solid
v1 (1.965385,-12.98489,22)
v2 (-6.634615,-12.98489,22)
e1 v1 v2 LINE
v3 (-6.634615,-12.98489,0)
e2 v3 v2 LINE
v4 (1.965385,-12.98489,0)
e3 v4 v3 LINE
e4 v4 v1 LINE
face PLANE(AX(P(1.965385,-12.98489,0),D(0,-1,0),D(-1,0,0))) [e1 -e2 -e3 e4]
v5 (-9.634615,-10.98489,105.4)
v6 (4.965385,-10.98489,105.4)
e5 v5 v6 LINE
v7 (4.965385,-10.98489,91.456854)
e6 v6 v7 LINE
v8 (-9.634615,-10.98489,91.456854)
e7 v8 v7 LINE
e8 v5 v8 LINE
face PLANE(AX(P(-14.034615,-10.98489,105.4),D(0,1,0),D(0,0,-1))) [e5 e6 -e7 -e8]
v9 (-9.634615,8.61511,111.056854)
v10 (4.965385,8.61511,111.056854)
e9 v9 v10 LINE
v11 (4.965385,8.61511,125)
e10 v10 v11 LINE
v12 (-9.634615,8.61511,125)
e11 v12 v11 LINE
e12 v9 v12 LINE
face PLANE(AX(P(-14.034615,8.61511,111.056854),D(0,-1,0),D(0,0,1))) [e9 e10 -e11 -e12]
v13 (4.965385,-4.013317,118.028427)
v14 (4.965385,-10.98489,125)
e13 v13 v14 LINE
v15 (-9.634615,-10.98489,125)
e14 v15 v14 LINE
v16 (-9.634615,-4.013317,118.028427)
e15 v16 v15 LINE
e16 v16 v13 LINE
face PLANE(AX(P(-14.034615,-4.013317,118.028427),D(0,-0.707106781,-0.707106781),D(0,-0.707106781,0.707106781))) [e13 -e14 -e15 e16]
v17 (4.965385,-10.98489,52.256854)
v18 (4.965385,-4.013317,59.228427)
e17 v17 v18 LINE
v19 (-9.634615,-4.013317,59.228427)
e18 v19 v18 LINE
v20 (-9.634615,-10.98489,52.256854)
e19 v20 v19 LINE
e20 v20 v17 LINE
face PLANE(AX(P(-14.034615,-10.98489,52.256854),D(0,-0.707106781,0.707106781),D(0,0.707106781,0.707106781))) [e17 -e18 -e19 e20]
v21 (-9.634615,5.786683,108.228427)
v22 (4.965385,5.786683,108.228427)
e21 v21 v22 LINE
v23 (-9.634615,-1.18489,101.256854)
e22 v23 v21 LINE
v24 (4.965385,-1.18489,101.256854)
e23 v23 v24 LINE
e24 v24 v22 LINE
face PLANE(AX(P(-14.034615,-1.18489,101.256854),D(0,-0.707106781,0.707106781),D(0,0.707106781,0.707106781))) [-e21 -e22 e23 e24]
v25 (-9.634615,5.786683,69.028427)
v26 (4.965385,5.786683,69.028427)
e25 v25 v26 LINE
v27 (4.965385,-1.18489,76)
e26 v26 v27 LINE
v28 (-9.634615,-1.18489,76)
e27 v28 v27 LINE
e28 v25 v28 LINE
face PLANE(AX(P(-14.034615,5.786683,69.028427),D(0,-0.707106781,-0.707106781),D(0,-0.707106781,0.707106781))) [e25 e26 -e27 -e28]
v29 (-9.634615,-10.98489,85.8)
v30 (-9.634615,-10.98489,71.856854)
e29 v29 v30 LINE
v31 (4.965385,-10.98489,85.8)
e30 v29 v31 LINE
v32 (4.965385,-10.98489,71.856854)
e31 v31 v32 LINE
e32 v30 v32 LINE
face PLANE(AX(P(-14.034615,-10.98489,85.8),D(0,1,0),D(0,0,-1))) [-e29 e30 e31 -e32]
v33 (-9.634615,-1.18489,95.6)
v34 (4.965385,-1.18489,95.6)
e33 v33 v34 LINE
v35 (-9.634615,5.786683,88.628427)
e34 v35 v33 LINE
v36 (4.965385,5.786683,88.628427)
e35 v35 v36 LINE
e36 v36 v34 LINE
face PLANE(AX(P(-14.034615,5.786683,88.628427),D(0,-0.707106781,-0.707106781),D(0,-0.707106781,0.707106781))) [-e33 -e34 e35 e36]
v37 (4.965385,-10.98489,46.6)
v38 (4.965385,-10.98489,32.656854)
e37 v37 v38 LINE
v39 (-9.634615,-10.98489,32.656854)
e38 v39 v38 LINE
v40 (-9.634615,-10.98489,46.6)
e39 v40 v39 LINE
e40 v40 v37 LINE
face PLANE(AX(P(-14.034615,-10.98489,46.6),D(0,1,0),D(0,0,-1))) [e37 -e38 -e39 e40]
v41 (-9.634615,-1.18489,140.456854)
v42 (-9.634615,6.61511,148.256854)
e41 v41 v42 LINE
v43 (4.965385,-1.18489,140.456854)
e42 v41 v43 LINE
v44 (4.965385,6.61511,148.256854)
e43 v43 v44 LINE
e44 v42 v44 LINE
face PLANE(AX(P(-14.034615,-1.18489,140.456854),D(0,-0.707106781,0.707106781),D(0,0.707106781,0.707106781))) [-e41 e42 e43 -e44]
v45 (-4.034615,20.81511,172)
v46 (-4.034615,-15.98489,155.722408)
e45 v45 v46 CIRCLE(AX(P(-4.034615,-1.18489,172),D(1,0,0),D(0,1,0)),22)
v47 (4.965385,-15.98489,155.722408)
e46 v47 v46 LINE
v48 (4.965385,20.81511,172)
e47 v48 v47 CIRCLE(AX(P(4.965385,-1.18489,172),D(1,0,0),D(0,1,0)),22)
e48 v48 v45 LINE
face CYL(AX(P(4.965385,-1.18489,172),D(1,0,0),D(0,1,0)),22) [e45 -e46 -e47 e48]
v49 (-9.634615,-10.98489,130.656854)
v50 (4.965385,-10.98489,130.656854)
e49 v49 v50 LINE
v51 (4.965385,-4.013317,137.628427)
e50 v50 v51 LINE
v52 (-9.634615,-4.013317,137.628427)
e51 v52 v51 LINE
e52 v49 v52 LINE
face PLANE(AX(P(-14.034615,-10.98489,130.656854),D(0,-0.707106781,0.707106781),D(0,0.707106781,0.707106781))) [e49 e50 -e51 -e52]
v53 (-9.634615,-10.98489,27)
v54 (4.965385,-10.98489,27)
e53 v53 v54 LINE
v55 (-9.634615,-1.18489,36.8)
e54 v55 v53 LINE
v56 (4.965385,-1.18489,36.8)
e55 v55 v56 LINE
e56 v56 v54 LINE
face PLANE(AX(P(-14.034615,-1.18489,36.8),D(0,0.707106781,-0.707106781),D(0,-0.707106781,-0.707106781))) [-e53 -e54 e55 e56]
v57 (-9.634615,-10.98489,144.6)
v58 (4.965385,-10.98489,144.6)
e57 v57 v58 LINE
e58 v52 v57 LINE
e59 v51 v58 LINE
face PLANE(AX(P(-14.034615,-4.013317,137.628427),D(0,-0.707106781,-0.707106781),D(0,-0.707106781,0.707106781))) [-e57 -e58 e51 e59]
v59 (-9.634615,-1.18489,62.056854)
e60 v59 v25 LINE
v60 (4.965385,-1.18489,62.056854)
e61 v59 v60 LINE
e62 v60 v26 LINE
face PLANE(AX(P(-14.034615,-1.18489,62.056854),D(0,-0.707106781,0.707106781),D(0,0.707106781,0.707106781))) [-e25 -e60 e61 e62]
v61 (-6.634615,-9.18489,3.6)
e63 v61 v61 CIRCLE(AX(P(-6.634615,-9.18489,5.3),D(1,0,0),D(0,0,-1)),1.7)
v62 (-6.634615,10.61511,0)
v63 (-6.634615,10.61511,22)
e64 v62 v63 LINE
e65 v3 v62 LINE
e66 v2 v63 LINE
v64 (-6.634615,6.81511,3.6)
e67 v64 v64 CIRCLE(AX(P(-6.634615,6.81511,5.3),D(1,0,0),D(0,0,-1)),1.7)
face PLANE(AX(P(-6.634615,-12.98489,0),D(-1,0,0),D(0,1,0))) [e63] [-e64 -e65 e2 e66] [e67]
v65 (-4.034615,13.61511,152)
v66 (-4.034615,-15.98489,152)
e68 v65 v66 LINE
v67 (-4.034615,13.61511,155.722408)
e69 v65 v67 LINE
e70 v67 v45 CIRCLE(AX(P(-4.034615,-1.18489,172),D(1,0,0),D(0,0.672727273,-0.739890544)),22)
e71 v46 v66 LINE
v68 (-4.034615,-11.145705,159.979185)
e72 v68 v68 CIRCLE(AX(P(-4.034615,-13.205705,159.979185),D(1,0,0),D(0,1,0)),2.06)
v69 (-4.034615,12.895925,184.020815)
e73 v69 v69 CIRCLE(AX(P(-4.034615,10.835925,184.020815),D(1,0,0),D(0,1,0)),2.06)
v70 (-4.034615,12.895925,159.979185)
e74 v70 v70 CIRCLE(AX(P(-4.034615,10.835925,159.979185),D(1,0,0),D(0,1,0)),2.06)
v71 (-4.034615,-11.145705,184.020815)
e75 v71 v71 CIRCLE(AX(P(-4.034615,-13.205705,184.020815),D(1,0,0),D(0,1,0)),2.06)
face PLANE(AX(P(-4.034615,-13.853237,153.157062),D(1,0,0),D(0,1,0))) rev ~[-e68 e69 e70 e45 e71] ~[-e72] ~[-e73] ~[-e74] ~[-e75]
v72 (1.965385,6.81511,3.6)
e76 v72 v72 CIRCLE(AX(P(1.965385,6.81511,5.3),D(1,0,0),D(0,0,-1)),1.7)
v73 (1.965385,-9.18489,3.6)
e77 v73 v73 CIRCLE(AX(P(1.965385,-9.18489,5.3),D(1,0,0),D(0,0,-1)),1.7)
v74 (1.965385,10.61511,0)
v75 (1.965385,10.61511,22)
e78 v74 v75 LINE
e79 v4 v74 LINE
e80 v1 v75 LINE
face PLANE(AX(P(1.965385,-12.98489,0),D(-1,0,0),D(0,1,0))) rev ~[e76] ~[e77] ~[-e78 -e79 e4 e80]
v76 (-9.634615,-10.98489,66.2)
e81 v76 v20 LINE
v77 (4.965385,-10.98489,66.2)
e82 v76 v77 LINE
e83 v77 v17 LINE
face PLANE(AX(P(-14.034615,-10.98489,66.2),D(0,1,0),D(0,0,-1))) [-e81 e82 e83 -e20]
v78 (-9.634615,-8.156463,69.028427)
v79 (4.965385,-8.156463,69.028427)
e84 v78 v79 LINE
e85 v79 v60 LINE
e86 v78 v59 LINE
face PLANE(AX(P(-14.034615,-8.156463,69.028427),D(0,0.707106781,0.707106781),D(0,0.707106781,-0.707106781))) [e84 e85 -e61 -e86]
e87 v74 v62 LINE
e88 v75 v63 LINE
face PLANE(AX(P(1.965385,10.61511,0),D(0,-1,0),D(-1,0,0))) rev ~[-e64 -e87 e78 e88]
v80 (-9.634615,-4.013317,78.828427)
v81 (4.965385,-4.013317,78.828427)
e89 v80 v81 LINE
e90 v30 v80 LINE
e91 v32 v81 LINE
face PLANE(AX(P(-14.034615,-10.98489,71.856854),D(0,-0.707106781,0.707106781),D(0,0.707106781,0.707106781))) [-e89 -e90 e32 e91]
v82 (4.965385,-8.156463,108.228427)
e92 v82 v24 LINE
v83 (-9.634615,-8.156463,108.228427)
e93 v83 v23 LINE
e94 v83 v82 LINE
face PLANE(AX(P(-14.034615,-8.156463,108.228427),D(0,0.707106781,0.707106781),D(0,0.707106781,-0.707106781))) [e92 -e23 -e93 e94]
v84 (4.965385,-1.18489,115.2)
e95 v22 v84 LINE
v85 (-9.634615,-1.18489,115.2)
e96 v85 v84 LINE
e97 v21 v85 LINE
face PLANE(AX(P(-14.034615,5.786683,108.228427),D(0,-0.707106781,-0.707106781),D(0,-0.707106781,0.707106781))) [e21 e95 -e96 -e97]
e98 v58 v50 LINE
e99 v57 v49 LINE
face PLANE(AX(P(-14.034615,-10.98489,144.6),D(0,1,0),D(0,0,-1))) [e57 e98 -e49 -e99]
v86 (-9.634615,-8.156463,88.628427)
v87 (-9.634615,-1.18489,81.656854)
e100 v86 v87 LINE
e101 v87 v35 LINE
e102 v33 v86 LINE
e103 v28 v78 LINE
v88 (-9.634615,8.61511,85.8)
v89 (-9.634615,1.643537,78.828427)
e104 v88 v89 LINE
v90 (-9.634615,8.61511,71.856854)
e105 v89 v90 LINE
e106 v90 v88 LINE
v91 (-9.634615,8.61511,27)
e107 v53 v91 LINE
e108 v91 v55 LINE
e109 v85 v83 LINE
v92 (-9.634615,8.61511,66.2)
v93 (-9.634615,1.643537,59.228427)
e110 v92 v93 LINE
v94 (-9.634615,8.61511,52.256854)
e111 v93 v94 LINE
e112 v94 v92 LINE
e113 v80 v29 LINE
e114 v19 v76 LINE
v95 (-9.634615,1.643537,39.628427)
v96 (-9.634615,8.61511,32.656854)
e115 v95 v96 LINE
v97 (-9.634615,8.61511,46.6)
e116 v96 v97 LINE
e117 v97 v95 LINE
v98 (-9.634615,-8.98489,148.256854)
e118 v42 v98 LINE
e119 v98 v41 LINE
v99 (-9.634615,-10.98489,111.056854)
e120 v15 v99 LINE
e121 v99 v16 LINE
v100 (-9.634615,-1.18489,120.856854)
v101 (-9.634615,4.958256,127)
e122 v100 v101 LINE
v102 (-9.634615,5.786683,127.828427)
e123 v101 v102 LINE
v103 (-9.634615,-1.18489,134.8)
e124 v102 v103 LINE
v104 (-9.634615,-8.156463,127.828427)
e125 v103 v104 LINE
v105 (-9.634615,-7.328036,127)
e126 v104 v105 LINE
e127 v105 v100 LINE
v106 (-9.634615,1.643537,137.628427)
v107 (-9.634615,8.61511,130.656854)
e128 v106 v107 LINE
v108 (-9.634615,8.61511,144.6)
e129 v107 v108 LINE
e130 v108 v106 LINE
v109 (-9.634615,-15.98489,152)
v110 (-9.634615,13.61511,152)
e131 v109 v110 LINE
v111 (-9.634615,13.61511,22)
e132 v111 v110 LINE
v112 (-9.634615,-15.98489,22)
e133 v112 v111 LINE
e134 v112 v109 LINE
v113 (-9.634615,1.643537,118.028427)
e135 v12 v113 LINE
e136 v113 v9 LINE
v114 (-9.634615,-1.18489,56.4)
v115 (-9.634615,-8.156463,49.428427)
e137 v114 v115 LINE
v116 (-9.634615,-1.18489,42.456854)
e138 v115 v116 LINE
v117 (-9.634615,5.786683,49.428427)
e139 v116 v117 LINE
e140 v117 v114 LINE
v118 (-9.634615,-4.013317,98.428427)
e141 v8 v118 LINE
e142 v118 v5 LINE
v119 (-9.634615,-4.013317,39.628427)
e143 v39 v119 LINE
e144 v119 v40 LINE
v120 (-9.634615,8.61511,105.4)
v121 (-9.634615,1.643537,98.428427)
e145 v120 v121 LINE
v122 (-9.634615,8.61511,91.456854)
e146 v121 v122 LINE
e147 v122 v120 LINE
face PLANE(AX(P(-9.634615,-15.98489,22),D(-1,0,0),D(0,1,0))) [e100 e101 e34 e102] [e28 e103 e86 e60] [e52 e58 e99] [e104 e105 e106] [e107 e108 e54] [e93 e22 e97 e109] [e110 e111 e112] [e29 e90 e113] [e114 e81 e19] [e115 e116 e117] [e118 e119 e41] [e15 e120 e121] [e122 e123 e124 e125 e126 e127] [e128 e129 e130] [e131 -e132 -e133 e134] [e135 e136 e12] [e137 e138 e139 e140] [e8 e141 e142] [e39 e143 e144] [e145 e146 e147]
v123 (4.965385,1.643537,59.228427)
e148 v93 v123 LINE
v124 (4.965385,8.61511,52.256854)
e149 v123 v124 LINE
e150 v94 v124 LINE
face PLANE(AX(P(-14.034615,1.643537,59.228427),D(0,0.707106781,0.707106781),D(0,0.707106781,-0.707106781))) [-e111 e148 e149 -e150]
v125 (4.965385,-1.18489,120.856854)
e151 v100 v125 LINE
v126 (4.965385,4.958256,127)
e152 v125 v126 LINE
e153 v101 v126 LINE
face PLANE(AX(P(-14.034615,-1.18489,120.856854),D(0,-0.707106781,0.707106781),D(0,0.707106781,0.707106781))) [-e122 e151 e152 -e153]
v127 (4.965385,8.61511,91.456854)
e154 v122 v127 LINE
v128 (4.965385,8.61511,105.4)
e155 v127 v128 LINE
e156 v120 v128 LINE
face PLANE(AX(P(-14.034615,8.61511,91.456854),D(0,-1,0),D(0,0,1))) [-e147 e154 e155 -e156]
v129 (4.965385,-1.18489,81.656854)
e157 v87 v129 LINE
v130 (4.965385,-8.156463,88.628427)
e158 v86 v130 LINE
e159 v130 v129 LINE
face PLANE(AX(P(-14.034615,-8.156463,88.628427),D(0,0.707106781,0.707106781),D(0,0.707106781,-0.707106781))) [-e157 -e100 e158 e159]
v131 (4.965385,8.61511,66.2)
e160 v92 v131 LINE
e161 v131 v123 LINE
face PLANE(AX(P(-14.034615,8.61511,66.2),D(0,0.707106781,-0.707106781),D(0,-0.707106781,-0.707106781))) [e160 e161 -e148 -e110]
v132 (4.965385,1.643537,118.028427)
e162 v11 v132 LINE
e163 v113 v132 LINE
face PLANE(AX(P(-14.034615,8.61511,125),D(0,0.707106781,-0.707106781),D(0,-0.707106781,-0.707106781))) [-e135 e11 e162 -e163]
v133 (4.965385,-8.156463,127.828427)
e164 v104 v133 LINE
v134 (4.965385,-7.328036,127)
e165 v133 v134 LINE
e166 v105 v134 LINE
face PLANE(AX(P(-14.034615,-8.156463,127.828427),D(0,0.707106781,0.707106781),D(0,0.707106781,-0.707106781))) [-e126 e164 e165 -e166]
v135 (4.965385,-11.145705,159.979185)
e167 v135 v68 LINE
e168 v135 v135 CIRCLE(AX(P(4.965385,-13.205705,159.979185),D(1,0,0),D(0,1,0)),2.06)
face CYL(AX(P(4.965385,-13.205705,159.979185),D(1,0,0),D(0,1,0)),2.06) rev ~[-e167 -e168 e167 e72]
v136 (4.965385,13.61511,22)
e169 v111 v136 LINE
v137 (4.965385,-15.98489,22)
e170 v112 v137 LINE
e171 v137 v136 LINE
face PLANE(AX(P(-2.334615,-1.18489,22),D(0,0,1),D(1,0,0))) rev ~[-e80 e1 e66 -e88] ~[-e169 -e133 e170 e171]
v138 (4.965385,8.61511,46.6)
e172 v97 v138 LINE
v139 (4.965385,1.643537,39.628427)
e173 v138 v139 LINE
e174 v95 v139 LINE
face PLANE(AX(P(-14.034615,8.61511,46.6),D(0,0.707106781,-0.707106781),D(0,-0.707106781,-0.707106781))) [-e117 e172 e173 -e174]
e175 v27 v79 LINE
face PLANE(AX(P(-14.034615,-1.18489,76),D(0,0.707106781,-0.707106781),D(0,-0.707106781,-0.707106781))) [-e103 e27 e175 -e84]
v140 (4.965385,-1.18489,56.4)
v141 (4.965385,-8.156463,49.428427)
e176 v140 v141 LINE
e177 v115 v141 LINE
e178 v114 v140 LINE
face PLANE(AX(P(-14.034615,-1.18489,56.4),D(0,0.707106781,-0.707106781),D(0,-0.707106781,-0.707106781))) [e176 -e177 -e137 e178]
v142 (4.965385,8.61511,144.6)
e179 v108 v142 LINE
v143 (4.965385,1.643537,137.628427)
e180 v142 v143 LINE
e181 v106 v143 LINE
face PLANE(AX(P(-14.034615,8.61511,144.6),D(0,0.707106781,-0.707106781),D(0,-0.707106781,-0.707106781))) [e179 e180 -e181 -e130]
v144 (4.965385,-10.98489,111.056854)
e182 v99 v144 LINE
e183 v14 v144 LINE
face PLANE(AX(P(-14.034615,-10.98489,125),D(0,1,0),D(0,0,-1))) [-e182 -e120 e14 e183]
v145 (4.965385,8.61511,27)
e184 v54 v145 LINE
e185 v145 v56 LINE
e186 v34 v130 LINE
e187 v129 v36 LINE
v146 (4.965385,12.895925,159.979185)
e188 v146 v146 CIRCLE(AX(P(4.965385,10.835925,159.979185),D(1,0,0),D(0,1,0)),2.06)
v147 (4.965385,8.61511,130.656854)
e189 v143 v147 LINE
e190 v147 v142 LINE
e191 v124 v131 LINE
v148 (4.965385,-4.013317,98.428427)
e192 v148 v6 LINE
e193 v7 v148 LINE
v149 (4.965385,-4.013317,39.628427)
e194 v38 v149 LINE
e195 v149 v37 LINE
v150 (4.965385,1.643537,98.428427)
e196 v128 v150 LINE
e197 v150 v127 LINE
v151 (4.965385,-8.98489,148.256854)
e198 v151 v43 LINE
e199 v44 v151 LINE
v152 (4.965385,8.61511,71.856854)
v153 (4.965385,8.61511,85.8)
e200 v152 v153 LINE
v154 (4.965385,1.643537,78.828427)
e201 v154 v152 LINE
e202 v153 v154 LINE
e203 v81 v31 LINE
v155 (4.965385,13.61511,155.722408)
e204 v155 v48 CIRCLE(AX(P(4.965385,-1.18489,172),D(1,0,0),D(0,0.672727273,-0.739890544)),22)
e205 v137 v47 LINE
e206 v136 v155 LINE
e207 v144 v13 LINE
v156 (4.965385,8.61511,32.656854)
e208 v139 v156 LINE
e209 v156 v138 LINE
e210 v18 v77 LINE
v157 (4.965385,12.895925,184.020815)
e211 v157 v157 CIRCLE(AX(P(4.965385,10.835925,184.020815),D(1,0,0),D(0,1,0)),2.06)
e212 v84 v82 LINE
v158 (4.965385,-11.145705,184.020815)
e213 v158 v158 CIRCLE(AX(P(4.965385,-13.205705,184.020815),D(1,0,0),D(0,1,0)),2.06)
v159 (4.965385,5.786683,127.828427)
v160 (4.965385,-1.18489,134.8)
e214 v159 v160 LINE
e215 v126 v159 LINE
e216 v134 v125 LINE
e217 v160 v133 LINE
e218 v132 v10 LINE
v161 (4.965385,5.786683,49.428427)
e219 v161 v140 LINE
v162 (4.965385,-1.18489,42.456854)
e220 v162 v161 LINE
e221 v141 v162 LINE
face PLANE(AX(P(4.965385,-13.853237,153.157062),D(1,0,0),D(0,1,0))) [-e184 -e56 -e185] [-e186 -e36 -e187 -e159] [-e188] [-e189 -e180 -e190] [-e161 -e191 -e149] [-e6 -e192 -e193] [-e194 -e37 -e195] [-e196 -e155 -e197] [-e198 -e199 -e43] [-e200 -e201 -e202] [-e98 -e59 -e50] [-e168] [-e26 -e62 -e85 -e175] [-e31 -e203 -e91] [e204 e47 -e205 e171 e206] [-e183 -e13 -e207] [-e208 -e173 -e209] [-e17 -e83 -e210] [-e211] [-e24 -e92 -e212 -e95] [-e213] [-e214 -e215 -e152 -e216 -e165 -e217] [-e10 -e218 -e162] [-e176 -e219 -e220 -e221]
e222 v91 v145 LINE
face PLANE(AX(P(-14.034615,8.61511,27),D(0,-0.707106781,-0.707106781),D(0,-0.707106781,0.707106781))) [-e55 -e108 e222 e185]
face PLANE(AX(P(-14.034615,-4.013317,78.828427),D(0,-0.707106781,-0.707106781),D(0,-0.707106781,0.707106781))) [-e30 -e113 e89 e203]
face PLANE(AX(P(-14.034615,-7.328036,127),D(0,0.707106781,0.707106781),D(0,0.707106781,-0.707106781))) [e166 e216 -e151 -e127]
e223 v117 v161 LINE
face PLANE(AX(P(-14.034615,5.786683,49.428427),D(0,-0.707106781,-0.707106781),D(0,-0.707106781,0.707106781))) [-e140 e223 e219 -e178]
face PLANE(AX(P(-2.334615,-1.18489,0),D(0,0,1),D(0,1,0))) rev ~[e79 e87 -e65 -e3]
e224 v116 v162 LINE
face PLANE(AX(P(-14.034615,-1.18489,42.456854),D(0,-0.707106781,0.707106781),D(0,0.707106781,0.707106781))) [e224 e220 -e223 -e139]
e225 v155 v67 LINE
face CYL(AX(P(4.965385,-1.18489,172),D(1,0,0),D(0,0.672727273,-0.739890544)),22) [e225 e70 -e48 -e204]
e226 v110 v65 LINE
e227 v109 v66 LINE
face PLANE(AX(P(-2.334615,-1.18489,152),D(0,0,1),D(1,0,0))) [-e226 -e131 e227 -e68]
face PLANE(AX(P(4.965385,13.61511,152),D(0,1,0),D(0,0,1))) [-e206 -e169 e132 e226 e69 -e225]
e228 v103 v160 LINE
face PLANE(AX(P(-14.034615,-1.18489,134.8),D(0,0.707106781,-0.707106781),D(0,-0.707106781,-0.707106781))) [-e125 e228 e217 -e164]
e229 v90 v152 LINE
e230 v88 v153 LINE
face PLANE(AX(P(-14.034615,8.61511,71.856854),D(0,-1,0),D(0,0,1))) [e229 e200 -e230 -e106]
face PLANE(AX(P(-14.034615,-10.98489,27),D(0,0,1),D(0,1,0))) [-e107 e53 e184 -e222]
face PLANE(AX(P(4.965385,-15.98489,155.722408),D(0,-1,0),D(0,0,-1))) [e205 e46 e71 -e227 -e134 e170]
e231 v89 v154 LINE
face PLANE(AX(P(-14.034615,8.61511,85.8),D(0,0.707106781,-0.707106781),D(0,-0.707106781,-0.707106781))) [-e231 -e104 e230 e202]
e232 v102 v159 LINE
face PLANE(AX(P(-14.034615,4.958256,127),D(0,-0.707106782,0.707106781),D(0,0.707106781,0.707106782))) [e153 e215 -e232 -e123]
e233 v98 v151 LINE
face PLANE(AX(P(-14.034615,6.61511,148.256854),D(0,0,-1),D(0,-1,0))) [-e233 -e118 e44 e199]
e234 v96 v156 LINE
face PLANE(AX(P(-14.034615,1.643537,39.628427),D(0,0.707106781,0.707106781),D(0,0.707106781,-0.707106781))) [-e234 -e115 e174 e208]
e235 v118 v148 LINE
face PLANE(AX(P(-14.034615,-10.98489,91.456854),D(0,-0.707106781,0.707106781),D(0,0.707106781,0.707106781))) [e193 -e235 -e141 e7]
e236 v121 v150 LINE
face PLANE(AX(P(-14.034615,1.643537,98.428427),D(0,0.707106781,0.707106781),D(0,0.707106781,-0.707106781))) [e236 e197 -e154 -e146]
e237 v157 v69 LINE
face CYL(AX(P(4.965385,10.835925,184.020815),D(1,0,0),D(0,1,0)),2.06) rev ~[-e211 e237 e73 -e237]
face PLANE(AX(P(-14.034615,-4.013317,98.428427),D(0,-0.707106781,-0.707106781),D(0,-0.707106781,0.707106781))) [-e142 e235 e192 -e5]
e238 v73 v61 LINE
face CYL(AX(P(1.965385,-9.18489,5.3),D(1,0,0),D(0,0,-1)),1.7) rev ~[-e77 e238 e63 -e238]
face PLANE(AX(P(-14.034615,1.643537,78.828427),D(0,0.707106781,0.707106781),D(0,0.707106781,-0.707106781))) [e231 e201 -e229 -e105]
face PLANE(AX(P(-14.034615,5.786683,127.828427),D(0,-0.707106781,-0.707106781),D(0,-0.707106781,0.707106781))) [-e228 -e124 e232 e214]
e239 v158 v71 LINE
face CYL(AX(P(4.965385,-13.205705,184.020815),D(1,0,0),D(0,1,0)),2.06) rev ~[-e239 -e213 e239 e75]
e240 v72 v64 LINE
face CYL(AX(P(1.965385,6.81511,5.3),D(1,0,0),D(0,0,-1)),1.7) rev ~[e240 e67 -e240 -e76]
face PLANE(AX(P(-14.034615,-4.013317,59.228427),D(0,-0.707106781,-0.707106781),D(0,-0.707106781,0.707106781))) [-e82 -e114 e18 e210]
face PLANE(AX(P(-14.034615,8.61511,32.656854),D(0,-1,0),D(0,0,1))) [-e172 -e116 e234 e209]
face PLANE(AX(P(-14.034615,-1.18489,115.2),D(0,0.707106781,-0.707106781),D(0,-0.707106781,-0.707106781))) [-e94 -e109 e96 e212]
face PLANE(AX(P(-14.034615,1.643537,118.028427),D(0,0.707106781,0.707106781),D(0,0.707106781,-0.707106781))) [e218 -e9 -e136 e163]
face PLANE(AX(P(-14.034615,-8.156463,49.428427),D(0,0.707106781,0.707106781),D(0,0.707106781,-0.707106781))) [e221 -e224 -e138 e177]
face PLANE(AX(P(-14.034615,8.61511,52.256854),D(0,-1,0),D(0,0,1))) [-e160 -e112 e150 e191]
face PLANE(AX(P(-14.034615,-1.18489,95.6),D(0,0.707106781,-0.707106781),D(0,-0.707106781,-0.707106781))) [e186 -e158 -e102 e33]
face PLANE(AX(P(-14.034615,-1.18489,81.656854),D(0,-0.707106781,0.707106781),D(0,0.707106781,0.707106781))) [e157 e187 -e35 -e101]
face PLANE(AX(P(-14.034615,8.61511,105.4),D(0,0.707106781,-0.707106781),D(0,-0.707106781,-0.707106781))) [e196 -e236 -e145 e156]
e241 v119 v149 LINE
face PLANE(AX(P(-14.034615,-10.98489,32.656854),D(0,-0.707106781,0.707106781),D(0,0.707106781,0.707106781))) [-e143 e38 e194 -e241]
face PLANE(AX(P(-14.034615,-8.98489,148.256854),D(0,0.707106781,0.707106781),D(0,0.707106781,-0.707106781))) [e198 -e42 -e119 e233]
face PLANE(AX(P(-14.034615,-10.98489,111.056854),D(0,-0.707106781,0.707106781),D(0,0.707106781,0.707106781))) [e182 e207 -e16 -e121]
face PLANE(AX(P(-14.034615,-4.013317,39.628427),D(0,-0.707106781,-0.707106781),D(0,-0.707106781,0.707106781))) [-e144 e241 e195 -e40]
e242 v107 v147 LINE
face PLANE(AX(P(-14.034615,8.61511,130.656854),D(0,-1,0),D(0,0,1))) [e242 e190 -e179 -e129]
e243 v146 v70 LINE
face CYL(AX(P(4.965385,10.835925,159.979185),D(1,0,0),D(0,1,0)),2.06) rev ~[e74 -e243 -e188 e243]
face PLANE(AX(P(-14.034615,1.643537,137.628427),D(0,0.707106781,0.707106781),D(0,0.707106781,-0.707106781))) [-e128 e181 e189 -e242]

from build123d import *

# Parameters (mm, degrees)
SKETCH1_W               = 23.6
SKETCH1_H               = 8.6
BOSS_EXTRUDE1_DEPTH     = 22
SKETCH2_W               = 14.6
SKETCH2_H               = 29.6
BOSS_EXTRUDE2_DEPTH     = 130
SKETCH3_R               = 1.7
CUT_EXTRUDE1_DEPTH      = 9
CUT_EXTRUDE2_DEPTH      = 154.533959474
CUT_EXTRUDE2_DEPTH_BACK = 19
SKETCH5_R               = 2.06
BOSS_EXTRUDE3_DEPTH     = 9


with BuildPart() as part:
    # Sketch1 → Boss-Extrude1 (new body)
    with BuildSketch(Plane(origin=(0, 0, 0), x_dir=(0, 1, 0), z_dir=(0, 0, 1))):
        with Locations((-1.18489011, 2.334615385)):
            Rectangle(SKETCH1_W, SKETCH1_H)
    extrude(amount=BOSS_EXTRUDE1_DEPTH)

    # Sketch2 → Boss-Extrude2 (add)
    with BuildSketch(Plane.XY.offset(22)):
        with Locations((-2.334615385, -1.18489011)):
            Rectangle(SKETCH2_W, SKETCH2_H)
    extrude(amount=BOSS_EXTRUDE2_DEPTH)

    # Sketch3 → Cut-Extrude1 (cut)
    with BuildSketch(Plane.YZ.offset(1.965384615)):
        with Locations(Location((6.81510989, 5.3, 0), (0, 0, 270))):
            Circle(SKETCH3_R)
        with Locations(Location((-9.18489011, 5.3, 0), (0, 0, 270))):
            Circle(SKETCH3_R)
    extrude(amount=-CUT_EXTRUDE1_DEPTH, mode=Mode.SUBTRACT)

    # Sketch4 → Cut-Extrude2 (cut, two sides: drawn at the far end of the back side and taken through both)
    with BuildSketch(Plane.YZ.offset(4.965384615).offset(-CUT_EXTRUDE2_DEPTH_BACK)):
        Polygon((-4.013317235, 118.028427125), (-10.98489011, 125), (-10.98489011, 111.056854249), align=None)
        Polygon((4.958255641, 127), (-7.32803586, 127), (-1.18489011, 120.856854249), align=None)
        Polygon((8.61510989, 125), (1.643537015, 118.028427125), (8.61510989, 111.056854249), align=None)
        Polygon((-1.18489011, 115.2), (-8.156462985, 108.228427125), (-1.18489011, 101.256854249), (5.786682765, 108.228427125), align=None)
        Polygon((-4.013317235, 98.428427125), (-10.98489011, 105.4), (-10.98489011, 91.456854249), align=None)
        Polygon((8.61510989, 105.4), (1.643537015, 98.428427125), (8.61510989, 91.456854249), align=None)
        Polygon((-1.18489011, 95.6), (-8.156462985, 88.628427125), (-1.18489011, 81.656854249), (5.786682765, 88.628427125), align=None)
        Polygon((-4.013317235, 78.828427125), (-10.98489011, 85.8), (-10.98489011, 71.856854249), align=None)
        Polygon((8.61510989, 85.8), (1.643537015, 78.828427125), (8.61510989, 71.856854249), align=None)
        Polygon((-1.18489011, 76), (-8.156462985, 69.028427125), (-1.18489011, 62.056854249), (5.786682765, 69.028427125), align=None)
        Polygon((-10.98489011, 66.2), (-10.98489011, 52.256854249), (-4.013317235, 59.228427125), align=None)
        Polygon((1.643537015, 59.228427125), (8.61510989, 52.256854249), (8.61510989, 66.2), align=None)
        Polygon((-1.18489011, 56.4), (-8.156462985, 49.428427125), (-1.18489011, 42.456854249), (5.786682765, 49.428427125), align=None)
        Polygon((-10.98489011, 46.6), (-10.98489011, 32.656854249), (-4.013317235, 39.628427125), align=None)
        Polygon((1.643537015, 39.628427125), (8.61510989, 32.656854249), (8.61510989, 46.6), align=None)
        Polygon((-1.18489011, 36.8), (-10.98489011, 27), (8.61510989, 27), align=None)
        Polygon((-8.156462985, 127.828427125), (-7.32803586, 127), (4.958255641, 127), (5.786682765, 127.828427125), (-1.18489011, 134.8), align=None)
        Polygon((-10.98489011, 144.6), (-10.98489011, 130.656854249), (-4.013317235, 137.628427125), align=None)
        Polygon((-8.98489011, 148.256854249), (-1.18489011, 140.456854249), (6.61510989, 148.256854249), align=None)
        Polygon((8.61510989, 144.6), (1.643537015, 137.628427125), (8.61510989, 130.656854249), align=None)
    extrude(amount=CUT_EXTRUDE2_DEPTH + CUT_EXTRUDE2_DEPTH_BACK, mode=Mode.SUBTRACT)

    # Sketch5 → Boss-Extrude3 (add)
    # profile 1 of 3: a face of its own
    with BuildSketch(Plane.YZ.offset(4.965384615)):
        with BuildLine():
            Line((-15.98489011, 155.72240804), (-15.98489011, 152))
            Line((-15.98489011, 152), (-10.3500415, 152))
            ThreePointArc((-10.3500415, 152), (-13.311150898, 153.643698648), (-15.98489011, 155.72240804))
        make_face()
    # profile 2 of 3: a face of its own
    with BuildSketch(Plane.YZ.offset(4.965384615)):
        with BuildLine():
            ThreePointArc((13.61510989, 155.72240804), (10.941370678, 153.643698648), (7.98026128, 152))
            Line((7.98026128, 152), (13.61510989, 152))
            Line((13.61510989, 152), (13.61510989, 155.72240804))
        make_face()
    # profile 3 of 3: a face of its own
    with BuildSketch(Plane.YZ.offset(4.965384615)):
        with BuildLine():
            ThreePointArc((20.81510989, 172), (-10.084328294, 192.119642144), (-15.98489011, 155.72240804))
            ThreePointArc((-15.98489011, 155.72240804), (-13.311150898, 153.643698648), (-10.3500415, 152))
            Line((-10.3500415, 152), (7.98026128, 152))
            ThreePointArc((7.98026128, 152), (10.941370678, 153.643698648), (13.61510989, 155.72240804))
            ThreePointArc((13.61510989, 155.72240804), (18.934752034, 163.100561815), (20.81510989, 172))
        make_face()
        with Locations((-13.20570539, 159.97918472)):
            Circle(SKETCH5_R, mode=Mode.SUBTRACT)
        with Locations((-13.20570539, 184.02081528)):
            Circle(SKETCH5_R, mode=Mode.SUBTRACT)
        with Locations((10.83592517, 159.97918472)):
            Circle(SKETCH5_R, mode=Mode.SUBTRACT)
        with Locations((10.83592517, 184.02081528)):
            Circle(SKETCH5_R, mode=Mode.SUBTRACT)
    extrude(amount=-BOSS_EXTRUDE3_DEPTH)


solid = part.part
